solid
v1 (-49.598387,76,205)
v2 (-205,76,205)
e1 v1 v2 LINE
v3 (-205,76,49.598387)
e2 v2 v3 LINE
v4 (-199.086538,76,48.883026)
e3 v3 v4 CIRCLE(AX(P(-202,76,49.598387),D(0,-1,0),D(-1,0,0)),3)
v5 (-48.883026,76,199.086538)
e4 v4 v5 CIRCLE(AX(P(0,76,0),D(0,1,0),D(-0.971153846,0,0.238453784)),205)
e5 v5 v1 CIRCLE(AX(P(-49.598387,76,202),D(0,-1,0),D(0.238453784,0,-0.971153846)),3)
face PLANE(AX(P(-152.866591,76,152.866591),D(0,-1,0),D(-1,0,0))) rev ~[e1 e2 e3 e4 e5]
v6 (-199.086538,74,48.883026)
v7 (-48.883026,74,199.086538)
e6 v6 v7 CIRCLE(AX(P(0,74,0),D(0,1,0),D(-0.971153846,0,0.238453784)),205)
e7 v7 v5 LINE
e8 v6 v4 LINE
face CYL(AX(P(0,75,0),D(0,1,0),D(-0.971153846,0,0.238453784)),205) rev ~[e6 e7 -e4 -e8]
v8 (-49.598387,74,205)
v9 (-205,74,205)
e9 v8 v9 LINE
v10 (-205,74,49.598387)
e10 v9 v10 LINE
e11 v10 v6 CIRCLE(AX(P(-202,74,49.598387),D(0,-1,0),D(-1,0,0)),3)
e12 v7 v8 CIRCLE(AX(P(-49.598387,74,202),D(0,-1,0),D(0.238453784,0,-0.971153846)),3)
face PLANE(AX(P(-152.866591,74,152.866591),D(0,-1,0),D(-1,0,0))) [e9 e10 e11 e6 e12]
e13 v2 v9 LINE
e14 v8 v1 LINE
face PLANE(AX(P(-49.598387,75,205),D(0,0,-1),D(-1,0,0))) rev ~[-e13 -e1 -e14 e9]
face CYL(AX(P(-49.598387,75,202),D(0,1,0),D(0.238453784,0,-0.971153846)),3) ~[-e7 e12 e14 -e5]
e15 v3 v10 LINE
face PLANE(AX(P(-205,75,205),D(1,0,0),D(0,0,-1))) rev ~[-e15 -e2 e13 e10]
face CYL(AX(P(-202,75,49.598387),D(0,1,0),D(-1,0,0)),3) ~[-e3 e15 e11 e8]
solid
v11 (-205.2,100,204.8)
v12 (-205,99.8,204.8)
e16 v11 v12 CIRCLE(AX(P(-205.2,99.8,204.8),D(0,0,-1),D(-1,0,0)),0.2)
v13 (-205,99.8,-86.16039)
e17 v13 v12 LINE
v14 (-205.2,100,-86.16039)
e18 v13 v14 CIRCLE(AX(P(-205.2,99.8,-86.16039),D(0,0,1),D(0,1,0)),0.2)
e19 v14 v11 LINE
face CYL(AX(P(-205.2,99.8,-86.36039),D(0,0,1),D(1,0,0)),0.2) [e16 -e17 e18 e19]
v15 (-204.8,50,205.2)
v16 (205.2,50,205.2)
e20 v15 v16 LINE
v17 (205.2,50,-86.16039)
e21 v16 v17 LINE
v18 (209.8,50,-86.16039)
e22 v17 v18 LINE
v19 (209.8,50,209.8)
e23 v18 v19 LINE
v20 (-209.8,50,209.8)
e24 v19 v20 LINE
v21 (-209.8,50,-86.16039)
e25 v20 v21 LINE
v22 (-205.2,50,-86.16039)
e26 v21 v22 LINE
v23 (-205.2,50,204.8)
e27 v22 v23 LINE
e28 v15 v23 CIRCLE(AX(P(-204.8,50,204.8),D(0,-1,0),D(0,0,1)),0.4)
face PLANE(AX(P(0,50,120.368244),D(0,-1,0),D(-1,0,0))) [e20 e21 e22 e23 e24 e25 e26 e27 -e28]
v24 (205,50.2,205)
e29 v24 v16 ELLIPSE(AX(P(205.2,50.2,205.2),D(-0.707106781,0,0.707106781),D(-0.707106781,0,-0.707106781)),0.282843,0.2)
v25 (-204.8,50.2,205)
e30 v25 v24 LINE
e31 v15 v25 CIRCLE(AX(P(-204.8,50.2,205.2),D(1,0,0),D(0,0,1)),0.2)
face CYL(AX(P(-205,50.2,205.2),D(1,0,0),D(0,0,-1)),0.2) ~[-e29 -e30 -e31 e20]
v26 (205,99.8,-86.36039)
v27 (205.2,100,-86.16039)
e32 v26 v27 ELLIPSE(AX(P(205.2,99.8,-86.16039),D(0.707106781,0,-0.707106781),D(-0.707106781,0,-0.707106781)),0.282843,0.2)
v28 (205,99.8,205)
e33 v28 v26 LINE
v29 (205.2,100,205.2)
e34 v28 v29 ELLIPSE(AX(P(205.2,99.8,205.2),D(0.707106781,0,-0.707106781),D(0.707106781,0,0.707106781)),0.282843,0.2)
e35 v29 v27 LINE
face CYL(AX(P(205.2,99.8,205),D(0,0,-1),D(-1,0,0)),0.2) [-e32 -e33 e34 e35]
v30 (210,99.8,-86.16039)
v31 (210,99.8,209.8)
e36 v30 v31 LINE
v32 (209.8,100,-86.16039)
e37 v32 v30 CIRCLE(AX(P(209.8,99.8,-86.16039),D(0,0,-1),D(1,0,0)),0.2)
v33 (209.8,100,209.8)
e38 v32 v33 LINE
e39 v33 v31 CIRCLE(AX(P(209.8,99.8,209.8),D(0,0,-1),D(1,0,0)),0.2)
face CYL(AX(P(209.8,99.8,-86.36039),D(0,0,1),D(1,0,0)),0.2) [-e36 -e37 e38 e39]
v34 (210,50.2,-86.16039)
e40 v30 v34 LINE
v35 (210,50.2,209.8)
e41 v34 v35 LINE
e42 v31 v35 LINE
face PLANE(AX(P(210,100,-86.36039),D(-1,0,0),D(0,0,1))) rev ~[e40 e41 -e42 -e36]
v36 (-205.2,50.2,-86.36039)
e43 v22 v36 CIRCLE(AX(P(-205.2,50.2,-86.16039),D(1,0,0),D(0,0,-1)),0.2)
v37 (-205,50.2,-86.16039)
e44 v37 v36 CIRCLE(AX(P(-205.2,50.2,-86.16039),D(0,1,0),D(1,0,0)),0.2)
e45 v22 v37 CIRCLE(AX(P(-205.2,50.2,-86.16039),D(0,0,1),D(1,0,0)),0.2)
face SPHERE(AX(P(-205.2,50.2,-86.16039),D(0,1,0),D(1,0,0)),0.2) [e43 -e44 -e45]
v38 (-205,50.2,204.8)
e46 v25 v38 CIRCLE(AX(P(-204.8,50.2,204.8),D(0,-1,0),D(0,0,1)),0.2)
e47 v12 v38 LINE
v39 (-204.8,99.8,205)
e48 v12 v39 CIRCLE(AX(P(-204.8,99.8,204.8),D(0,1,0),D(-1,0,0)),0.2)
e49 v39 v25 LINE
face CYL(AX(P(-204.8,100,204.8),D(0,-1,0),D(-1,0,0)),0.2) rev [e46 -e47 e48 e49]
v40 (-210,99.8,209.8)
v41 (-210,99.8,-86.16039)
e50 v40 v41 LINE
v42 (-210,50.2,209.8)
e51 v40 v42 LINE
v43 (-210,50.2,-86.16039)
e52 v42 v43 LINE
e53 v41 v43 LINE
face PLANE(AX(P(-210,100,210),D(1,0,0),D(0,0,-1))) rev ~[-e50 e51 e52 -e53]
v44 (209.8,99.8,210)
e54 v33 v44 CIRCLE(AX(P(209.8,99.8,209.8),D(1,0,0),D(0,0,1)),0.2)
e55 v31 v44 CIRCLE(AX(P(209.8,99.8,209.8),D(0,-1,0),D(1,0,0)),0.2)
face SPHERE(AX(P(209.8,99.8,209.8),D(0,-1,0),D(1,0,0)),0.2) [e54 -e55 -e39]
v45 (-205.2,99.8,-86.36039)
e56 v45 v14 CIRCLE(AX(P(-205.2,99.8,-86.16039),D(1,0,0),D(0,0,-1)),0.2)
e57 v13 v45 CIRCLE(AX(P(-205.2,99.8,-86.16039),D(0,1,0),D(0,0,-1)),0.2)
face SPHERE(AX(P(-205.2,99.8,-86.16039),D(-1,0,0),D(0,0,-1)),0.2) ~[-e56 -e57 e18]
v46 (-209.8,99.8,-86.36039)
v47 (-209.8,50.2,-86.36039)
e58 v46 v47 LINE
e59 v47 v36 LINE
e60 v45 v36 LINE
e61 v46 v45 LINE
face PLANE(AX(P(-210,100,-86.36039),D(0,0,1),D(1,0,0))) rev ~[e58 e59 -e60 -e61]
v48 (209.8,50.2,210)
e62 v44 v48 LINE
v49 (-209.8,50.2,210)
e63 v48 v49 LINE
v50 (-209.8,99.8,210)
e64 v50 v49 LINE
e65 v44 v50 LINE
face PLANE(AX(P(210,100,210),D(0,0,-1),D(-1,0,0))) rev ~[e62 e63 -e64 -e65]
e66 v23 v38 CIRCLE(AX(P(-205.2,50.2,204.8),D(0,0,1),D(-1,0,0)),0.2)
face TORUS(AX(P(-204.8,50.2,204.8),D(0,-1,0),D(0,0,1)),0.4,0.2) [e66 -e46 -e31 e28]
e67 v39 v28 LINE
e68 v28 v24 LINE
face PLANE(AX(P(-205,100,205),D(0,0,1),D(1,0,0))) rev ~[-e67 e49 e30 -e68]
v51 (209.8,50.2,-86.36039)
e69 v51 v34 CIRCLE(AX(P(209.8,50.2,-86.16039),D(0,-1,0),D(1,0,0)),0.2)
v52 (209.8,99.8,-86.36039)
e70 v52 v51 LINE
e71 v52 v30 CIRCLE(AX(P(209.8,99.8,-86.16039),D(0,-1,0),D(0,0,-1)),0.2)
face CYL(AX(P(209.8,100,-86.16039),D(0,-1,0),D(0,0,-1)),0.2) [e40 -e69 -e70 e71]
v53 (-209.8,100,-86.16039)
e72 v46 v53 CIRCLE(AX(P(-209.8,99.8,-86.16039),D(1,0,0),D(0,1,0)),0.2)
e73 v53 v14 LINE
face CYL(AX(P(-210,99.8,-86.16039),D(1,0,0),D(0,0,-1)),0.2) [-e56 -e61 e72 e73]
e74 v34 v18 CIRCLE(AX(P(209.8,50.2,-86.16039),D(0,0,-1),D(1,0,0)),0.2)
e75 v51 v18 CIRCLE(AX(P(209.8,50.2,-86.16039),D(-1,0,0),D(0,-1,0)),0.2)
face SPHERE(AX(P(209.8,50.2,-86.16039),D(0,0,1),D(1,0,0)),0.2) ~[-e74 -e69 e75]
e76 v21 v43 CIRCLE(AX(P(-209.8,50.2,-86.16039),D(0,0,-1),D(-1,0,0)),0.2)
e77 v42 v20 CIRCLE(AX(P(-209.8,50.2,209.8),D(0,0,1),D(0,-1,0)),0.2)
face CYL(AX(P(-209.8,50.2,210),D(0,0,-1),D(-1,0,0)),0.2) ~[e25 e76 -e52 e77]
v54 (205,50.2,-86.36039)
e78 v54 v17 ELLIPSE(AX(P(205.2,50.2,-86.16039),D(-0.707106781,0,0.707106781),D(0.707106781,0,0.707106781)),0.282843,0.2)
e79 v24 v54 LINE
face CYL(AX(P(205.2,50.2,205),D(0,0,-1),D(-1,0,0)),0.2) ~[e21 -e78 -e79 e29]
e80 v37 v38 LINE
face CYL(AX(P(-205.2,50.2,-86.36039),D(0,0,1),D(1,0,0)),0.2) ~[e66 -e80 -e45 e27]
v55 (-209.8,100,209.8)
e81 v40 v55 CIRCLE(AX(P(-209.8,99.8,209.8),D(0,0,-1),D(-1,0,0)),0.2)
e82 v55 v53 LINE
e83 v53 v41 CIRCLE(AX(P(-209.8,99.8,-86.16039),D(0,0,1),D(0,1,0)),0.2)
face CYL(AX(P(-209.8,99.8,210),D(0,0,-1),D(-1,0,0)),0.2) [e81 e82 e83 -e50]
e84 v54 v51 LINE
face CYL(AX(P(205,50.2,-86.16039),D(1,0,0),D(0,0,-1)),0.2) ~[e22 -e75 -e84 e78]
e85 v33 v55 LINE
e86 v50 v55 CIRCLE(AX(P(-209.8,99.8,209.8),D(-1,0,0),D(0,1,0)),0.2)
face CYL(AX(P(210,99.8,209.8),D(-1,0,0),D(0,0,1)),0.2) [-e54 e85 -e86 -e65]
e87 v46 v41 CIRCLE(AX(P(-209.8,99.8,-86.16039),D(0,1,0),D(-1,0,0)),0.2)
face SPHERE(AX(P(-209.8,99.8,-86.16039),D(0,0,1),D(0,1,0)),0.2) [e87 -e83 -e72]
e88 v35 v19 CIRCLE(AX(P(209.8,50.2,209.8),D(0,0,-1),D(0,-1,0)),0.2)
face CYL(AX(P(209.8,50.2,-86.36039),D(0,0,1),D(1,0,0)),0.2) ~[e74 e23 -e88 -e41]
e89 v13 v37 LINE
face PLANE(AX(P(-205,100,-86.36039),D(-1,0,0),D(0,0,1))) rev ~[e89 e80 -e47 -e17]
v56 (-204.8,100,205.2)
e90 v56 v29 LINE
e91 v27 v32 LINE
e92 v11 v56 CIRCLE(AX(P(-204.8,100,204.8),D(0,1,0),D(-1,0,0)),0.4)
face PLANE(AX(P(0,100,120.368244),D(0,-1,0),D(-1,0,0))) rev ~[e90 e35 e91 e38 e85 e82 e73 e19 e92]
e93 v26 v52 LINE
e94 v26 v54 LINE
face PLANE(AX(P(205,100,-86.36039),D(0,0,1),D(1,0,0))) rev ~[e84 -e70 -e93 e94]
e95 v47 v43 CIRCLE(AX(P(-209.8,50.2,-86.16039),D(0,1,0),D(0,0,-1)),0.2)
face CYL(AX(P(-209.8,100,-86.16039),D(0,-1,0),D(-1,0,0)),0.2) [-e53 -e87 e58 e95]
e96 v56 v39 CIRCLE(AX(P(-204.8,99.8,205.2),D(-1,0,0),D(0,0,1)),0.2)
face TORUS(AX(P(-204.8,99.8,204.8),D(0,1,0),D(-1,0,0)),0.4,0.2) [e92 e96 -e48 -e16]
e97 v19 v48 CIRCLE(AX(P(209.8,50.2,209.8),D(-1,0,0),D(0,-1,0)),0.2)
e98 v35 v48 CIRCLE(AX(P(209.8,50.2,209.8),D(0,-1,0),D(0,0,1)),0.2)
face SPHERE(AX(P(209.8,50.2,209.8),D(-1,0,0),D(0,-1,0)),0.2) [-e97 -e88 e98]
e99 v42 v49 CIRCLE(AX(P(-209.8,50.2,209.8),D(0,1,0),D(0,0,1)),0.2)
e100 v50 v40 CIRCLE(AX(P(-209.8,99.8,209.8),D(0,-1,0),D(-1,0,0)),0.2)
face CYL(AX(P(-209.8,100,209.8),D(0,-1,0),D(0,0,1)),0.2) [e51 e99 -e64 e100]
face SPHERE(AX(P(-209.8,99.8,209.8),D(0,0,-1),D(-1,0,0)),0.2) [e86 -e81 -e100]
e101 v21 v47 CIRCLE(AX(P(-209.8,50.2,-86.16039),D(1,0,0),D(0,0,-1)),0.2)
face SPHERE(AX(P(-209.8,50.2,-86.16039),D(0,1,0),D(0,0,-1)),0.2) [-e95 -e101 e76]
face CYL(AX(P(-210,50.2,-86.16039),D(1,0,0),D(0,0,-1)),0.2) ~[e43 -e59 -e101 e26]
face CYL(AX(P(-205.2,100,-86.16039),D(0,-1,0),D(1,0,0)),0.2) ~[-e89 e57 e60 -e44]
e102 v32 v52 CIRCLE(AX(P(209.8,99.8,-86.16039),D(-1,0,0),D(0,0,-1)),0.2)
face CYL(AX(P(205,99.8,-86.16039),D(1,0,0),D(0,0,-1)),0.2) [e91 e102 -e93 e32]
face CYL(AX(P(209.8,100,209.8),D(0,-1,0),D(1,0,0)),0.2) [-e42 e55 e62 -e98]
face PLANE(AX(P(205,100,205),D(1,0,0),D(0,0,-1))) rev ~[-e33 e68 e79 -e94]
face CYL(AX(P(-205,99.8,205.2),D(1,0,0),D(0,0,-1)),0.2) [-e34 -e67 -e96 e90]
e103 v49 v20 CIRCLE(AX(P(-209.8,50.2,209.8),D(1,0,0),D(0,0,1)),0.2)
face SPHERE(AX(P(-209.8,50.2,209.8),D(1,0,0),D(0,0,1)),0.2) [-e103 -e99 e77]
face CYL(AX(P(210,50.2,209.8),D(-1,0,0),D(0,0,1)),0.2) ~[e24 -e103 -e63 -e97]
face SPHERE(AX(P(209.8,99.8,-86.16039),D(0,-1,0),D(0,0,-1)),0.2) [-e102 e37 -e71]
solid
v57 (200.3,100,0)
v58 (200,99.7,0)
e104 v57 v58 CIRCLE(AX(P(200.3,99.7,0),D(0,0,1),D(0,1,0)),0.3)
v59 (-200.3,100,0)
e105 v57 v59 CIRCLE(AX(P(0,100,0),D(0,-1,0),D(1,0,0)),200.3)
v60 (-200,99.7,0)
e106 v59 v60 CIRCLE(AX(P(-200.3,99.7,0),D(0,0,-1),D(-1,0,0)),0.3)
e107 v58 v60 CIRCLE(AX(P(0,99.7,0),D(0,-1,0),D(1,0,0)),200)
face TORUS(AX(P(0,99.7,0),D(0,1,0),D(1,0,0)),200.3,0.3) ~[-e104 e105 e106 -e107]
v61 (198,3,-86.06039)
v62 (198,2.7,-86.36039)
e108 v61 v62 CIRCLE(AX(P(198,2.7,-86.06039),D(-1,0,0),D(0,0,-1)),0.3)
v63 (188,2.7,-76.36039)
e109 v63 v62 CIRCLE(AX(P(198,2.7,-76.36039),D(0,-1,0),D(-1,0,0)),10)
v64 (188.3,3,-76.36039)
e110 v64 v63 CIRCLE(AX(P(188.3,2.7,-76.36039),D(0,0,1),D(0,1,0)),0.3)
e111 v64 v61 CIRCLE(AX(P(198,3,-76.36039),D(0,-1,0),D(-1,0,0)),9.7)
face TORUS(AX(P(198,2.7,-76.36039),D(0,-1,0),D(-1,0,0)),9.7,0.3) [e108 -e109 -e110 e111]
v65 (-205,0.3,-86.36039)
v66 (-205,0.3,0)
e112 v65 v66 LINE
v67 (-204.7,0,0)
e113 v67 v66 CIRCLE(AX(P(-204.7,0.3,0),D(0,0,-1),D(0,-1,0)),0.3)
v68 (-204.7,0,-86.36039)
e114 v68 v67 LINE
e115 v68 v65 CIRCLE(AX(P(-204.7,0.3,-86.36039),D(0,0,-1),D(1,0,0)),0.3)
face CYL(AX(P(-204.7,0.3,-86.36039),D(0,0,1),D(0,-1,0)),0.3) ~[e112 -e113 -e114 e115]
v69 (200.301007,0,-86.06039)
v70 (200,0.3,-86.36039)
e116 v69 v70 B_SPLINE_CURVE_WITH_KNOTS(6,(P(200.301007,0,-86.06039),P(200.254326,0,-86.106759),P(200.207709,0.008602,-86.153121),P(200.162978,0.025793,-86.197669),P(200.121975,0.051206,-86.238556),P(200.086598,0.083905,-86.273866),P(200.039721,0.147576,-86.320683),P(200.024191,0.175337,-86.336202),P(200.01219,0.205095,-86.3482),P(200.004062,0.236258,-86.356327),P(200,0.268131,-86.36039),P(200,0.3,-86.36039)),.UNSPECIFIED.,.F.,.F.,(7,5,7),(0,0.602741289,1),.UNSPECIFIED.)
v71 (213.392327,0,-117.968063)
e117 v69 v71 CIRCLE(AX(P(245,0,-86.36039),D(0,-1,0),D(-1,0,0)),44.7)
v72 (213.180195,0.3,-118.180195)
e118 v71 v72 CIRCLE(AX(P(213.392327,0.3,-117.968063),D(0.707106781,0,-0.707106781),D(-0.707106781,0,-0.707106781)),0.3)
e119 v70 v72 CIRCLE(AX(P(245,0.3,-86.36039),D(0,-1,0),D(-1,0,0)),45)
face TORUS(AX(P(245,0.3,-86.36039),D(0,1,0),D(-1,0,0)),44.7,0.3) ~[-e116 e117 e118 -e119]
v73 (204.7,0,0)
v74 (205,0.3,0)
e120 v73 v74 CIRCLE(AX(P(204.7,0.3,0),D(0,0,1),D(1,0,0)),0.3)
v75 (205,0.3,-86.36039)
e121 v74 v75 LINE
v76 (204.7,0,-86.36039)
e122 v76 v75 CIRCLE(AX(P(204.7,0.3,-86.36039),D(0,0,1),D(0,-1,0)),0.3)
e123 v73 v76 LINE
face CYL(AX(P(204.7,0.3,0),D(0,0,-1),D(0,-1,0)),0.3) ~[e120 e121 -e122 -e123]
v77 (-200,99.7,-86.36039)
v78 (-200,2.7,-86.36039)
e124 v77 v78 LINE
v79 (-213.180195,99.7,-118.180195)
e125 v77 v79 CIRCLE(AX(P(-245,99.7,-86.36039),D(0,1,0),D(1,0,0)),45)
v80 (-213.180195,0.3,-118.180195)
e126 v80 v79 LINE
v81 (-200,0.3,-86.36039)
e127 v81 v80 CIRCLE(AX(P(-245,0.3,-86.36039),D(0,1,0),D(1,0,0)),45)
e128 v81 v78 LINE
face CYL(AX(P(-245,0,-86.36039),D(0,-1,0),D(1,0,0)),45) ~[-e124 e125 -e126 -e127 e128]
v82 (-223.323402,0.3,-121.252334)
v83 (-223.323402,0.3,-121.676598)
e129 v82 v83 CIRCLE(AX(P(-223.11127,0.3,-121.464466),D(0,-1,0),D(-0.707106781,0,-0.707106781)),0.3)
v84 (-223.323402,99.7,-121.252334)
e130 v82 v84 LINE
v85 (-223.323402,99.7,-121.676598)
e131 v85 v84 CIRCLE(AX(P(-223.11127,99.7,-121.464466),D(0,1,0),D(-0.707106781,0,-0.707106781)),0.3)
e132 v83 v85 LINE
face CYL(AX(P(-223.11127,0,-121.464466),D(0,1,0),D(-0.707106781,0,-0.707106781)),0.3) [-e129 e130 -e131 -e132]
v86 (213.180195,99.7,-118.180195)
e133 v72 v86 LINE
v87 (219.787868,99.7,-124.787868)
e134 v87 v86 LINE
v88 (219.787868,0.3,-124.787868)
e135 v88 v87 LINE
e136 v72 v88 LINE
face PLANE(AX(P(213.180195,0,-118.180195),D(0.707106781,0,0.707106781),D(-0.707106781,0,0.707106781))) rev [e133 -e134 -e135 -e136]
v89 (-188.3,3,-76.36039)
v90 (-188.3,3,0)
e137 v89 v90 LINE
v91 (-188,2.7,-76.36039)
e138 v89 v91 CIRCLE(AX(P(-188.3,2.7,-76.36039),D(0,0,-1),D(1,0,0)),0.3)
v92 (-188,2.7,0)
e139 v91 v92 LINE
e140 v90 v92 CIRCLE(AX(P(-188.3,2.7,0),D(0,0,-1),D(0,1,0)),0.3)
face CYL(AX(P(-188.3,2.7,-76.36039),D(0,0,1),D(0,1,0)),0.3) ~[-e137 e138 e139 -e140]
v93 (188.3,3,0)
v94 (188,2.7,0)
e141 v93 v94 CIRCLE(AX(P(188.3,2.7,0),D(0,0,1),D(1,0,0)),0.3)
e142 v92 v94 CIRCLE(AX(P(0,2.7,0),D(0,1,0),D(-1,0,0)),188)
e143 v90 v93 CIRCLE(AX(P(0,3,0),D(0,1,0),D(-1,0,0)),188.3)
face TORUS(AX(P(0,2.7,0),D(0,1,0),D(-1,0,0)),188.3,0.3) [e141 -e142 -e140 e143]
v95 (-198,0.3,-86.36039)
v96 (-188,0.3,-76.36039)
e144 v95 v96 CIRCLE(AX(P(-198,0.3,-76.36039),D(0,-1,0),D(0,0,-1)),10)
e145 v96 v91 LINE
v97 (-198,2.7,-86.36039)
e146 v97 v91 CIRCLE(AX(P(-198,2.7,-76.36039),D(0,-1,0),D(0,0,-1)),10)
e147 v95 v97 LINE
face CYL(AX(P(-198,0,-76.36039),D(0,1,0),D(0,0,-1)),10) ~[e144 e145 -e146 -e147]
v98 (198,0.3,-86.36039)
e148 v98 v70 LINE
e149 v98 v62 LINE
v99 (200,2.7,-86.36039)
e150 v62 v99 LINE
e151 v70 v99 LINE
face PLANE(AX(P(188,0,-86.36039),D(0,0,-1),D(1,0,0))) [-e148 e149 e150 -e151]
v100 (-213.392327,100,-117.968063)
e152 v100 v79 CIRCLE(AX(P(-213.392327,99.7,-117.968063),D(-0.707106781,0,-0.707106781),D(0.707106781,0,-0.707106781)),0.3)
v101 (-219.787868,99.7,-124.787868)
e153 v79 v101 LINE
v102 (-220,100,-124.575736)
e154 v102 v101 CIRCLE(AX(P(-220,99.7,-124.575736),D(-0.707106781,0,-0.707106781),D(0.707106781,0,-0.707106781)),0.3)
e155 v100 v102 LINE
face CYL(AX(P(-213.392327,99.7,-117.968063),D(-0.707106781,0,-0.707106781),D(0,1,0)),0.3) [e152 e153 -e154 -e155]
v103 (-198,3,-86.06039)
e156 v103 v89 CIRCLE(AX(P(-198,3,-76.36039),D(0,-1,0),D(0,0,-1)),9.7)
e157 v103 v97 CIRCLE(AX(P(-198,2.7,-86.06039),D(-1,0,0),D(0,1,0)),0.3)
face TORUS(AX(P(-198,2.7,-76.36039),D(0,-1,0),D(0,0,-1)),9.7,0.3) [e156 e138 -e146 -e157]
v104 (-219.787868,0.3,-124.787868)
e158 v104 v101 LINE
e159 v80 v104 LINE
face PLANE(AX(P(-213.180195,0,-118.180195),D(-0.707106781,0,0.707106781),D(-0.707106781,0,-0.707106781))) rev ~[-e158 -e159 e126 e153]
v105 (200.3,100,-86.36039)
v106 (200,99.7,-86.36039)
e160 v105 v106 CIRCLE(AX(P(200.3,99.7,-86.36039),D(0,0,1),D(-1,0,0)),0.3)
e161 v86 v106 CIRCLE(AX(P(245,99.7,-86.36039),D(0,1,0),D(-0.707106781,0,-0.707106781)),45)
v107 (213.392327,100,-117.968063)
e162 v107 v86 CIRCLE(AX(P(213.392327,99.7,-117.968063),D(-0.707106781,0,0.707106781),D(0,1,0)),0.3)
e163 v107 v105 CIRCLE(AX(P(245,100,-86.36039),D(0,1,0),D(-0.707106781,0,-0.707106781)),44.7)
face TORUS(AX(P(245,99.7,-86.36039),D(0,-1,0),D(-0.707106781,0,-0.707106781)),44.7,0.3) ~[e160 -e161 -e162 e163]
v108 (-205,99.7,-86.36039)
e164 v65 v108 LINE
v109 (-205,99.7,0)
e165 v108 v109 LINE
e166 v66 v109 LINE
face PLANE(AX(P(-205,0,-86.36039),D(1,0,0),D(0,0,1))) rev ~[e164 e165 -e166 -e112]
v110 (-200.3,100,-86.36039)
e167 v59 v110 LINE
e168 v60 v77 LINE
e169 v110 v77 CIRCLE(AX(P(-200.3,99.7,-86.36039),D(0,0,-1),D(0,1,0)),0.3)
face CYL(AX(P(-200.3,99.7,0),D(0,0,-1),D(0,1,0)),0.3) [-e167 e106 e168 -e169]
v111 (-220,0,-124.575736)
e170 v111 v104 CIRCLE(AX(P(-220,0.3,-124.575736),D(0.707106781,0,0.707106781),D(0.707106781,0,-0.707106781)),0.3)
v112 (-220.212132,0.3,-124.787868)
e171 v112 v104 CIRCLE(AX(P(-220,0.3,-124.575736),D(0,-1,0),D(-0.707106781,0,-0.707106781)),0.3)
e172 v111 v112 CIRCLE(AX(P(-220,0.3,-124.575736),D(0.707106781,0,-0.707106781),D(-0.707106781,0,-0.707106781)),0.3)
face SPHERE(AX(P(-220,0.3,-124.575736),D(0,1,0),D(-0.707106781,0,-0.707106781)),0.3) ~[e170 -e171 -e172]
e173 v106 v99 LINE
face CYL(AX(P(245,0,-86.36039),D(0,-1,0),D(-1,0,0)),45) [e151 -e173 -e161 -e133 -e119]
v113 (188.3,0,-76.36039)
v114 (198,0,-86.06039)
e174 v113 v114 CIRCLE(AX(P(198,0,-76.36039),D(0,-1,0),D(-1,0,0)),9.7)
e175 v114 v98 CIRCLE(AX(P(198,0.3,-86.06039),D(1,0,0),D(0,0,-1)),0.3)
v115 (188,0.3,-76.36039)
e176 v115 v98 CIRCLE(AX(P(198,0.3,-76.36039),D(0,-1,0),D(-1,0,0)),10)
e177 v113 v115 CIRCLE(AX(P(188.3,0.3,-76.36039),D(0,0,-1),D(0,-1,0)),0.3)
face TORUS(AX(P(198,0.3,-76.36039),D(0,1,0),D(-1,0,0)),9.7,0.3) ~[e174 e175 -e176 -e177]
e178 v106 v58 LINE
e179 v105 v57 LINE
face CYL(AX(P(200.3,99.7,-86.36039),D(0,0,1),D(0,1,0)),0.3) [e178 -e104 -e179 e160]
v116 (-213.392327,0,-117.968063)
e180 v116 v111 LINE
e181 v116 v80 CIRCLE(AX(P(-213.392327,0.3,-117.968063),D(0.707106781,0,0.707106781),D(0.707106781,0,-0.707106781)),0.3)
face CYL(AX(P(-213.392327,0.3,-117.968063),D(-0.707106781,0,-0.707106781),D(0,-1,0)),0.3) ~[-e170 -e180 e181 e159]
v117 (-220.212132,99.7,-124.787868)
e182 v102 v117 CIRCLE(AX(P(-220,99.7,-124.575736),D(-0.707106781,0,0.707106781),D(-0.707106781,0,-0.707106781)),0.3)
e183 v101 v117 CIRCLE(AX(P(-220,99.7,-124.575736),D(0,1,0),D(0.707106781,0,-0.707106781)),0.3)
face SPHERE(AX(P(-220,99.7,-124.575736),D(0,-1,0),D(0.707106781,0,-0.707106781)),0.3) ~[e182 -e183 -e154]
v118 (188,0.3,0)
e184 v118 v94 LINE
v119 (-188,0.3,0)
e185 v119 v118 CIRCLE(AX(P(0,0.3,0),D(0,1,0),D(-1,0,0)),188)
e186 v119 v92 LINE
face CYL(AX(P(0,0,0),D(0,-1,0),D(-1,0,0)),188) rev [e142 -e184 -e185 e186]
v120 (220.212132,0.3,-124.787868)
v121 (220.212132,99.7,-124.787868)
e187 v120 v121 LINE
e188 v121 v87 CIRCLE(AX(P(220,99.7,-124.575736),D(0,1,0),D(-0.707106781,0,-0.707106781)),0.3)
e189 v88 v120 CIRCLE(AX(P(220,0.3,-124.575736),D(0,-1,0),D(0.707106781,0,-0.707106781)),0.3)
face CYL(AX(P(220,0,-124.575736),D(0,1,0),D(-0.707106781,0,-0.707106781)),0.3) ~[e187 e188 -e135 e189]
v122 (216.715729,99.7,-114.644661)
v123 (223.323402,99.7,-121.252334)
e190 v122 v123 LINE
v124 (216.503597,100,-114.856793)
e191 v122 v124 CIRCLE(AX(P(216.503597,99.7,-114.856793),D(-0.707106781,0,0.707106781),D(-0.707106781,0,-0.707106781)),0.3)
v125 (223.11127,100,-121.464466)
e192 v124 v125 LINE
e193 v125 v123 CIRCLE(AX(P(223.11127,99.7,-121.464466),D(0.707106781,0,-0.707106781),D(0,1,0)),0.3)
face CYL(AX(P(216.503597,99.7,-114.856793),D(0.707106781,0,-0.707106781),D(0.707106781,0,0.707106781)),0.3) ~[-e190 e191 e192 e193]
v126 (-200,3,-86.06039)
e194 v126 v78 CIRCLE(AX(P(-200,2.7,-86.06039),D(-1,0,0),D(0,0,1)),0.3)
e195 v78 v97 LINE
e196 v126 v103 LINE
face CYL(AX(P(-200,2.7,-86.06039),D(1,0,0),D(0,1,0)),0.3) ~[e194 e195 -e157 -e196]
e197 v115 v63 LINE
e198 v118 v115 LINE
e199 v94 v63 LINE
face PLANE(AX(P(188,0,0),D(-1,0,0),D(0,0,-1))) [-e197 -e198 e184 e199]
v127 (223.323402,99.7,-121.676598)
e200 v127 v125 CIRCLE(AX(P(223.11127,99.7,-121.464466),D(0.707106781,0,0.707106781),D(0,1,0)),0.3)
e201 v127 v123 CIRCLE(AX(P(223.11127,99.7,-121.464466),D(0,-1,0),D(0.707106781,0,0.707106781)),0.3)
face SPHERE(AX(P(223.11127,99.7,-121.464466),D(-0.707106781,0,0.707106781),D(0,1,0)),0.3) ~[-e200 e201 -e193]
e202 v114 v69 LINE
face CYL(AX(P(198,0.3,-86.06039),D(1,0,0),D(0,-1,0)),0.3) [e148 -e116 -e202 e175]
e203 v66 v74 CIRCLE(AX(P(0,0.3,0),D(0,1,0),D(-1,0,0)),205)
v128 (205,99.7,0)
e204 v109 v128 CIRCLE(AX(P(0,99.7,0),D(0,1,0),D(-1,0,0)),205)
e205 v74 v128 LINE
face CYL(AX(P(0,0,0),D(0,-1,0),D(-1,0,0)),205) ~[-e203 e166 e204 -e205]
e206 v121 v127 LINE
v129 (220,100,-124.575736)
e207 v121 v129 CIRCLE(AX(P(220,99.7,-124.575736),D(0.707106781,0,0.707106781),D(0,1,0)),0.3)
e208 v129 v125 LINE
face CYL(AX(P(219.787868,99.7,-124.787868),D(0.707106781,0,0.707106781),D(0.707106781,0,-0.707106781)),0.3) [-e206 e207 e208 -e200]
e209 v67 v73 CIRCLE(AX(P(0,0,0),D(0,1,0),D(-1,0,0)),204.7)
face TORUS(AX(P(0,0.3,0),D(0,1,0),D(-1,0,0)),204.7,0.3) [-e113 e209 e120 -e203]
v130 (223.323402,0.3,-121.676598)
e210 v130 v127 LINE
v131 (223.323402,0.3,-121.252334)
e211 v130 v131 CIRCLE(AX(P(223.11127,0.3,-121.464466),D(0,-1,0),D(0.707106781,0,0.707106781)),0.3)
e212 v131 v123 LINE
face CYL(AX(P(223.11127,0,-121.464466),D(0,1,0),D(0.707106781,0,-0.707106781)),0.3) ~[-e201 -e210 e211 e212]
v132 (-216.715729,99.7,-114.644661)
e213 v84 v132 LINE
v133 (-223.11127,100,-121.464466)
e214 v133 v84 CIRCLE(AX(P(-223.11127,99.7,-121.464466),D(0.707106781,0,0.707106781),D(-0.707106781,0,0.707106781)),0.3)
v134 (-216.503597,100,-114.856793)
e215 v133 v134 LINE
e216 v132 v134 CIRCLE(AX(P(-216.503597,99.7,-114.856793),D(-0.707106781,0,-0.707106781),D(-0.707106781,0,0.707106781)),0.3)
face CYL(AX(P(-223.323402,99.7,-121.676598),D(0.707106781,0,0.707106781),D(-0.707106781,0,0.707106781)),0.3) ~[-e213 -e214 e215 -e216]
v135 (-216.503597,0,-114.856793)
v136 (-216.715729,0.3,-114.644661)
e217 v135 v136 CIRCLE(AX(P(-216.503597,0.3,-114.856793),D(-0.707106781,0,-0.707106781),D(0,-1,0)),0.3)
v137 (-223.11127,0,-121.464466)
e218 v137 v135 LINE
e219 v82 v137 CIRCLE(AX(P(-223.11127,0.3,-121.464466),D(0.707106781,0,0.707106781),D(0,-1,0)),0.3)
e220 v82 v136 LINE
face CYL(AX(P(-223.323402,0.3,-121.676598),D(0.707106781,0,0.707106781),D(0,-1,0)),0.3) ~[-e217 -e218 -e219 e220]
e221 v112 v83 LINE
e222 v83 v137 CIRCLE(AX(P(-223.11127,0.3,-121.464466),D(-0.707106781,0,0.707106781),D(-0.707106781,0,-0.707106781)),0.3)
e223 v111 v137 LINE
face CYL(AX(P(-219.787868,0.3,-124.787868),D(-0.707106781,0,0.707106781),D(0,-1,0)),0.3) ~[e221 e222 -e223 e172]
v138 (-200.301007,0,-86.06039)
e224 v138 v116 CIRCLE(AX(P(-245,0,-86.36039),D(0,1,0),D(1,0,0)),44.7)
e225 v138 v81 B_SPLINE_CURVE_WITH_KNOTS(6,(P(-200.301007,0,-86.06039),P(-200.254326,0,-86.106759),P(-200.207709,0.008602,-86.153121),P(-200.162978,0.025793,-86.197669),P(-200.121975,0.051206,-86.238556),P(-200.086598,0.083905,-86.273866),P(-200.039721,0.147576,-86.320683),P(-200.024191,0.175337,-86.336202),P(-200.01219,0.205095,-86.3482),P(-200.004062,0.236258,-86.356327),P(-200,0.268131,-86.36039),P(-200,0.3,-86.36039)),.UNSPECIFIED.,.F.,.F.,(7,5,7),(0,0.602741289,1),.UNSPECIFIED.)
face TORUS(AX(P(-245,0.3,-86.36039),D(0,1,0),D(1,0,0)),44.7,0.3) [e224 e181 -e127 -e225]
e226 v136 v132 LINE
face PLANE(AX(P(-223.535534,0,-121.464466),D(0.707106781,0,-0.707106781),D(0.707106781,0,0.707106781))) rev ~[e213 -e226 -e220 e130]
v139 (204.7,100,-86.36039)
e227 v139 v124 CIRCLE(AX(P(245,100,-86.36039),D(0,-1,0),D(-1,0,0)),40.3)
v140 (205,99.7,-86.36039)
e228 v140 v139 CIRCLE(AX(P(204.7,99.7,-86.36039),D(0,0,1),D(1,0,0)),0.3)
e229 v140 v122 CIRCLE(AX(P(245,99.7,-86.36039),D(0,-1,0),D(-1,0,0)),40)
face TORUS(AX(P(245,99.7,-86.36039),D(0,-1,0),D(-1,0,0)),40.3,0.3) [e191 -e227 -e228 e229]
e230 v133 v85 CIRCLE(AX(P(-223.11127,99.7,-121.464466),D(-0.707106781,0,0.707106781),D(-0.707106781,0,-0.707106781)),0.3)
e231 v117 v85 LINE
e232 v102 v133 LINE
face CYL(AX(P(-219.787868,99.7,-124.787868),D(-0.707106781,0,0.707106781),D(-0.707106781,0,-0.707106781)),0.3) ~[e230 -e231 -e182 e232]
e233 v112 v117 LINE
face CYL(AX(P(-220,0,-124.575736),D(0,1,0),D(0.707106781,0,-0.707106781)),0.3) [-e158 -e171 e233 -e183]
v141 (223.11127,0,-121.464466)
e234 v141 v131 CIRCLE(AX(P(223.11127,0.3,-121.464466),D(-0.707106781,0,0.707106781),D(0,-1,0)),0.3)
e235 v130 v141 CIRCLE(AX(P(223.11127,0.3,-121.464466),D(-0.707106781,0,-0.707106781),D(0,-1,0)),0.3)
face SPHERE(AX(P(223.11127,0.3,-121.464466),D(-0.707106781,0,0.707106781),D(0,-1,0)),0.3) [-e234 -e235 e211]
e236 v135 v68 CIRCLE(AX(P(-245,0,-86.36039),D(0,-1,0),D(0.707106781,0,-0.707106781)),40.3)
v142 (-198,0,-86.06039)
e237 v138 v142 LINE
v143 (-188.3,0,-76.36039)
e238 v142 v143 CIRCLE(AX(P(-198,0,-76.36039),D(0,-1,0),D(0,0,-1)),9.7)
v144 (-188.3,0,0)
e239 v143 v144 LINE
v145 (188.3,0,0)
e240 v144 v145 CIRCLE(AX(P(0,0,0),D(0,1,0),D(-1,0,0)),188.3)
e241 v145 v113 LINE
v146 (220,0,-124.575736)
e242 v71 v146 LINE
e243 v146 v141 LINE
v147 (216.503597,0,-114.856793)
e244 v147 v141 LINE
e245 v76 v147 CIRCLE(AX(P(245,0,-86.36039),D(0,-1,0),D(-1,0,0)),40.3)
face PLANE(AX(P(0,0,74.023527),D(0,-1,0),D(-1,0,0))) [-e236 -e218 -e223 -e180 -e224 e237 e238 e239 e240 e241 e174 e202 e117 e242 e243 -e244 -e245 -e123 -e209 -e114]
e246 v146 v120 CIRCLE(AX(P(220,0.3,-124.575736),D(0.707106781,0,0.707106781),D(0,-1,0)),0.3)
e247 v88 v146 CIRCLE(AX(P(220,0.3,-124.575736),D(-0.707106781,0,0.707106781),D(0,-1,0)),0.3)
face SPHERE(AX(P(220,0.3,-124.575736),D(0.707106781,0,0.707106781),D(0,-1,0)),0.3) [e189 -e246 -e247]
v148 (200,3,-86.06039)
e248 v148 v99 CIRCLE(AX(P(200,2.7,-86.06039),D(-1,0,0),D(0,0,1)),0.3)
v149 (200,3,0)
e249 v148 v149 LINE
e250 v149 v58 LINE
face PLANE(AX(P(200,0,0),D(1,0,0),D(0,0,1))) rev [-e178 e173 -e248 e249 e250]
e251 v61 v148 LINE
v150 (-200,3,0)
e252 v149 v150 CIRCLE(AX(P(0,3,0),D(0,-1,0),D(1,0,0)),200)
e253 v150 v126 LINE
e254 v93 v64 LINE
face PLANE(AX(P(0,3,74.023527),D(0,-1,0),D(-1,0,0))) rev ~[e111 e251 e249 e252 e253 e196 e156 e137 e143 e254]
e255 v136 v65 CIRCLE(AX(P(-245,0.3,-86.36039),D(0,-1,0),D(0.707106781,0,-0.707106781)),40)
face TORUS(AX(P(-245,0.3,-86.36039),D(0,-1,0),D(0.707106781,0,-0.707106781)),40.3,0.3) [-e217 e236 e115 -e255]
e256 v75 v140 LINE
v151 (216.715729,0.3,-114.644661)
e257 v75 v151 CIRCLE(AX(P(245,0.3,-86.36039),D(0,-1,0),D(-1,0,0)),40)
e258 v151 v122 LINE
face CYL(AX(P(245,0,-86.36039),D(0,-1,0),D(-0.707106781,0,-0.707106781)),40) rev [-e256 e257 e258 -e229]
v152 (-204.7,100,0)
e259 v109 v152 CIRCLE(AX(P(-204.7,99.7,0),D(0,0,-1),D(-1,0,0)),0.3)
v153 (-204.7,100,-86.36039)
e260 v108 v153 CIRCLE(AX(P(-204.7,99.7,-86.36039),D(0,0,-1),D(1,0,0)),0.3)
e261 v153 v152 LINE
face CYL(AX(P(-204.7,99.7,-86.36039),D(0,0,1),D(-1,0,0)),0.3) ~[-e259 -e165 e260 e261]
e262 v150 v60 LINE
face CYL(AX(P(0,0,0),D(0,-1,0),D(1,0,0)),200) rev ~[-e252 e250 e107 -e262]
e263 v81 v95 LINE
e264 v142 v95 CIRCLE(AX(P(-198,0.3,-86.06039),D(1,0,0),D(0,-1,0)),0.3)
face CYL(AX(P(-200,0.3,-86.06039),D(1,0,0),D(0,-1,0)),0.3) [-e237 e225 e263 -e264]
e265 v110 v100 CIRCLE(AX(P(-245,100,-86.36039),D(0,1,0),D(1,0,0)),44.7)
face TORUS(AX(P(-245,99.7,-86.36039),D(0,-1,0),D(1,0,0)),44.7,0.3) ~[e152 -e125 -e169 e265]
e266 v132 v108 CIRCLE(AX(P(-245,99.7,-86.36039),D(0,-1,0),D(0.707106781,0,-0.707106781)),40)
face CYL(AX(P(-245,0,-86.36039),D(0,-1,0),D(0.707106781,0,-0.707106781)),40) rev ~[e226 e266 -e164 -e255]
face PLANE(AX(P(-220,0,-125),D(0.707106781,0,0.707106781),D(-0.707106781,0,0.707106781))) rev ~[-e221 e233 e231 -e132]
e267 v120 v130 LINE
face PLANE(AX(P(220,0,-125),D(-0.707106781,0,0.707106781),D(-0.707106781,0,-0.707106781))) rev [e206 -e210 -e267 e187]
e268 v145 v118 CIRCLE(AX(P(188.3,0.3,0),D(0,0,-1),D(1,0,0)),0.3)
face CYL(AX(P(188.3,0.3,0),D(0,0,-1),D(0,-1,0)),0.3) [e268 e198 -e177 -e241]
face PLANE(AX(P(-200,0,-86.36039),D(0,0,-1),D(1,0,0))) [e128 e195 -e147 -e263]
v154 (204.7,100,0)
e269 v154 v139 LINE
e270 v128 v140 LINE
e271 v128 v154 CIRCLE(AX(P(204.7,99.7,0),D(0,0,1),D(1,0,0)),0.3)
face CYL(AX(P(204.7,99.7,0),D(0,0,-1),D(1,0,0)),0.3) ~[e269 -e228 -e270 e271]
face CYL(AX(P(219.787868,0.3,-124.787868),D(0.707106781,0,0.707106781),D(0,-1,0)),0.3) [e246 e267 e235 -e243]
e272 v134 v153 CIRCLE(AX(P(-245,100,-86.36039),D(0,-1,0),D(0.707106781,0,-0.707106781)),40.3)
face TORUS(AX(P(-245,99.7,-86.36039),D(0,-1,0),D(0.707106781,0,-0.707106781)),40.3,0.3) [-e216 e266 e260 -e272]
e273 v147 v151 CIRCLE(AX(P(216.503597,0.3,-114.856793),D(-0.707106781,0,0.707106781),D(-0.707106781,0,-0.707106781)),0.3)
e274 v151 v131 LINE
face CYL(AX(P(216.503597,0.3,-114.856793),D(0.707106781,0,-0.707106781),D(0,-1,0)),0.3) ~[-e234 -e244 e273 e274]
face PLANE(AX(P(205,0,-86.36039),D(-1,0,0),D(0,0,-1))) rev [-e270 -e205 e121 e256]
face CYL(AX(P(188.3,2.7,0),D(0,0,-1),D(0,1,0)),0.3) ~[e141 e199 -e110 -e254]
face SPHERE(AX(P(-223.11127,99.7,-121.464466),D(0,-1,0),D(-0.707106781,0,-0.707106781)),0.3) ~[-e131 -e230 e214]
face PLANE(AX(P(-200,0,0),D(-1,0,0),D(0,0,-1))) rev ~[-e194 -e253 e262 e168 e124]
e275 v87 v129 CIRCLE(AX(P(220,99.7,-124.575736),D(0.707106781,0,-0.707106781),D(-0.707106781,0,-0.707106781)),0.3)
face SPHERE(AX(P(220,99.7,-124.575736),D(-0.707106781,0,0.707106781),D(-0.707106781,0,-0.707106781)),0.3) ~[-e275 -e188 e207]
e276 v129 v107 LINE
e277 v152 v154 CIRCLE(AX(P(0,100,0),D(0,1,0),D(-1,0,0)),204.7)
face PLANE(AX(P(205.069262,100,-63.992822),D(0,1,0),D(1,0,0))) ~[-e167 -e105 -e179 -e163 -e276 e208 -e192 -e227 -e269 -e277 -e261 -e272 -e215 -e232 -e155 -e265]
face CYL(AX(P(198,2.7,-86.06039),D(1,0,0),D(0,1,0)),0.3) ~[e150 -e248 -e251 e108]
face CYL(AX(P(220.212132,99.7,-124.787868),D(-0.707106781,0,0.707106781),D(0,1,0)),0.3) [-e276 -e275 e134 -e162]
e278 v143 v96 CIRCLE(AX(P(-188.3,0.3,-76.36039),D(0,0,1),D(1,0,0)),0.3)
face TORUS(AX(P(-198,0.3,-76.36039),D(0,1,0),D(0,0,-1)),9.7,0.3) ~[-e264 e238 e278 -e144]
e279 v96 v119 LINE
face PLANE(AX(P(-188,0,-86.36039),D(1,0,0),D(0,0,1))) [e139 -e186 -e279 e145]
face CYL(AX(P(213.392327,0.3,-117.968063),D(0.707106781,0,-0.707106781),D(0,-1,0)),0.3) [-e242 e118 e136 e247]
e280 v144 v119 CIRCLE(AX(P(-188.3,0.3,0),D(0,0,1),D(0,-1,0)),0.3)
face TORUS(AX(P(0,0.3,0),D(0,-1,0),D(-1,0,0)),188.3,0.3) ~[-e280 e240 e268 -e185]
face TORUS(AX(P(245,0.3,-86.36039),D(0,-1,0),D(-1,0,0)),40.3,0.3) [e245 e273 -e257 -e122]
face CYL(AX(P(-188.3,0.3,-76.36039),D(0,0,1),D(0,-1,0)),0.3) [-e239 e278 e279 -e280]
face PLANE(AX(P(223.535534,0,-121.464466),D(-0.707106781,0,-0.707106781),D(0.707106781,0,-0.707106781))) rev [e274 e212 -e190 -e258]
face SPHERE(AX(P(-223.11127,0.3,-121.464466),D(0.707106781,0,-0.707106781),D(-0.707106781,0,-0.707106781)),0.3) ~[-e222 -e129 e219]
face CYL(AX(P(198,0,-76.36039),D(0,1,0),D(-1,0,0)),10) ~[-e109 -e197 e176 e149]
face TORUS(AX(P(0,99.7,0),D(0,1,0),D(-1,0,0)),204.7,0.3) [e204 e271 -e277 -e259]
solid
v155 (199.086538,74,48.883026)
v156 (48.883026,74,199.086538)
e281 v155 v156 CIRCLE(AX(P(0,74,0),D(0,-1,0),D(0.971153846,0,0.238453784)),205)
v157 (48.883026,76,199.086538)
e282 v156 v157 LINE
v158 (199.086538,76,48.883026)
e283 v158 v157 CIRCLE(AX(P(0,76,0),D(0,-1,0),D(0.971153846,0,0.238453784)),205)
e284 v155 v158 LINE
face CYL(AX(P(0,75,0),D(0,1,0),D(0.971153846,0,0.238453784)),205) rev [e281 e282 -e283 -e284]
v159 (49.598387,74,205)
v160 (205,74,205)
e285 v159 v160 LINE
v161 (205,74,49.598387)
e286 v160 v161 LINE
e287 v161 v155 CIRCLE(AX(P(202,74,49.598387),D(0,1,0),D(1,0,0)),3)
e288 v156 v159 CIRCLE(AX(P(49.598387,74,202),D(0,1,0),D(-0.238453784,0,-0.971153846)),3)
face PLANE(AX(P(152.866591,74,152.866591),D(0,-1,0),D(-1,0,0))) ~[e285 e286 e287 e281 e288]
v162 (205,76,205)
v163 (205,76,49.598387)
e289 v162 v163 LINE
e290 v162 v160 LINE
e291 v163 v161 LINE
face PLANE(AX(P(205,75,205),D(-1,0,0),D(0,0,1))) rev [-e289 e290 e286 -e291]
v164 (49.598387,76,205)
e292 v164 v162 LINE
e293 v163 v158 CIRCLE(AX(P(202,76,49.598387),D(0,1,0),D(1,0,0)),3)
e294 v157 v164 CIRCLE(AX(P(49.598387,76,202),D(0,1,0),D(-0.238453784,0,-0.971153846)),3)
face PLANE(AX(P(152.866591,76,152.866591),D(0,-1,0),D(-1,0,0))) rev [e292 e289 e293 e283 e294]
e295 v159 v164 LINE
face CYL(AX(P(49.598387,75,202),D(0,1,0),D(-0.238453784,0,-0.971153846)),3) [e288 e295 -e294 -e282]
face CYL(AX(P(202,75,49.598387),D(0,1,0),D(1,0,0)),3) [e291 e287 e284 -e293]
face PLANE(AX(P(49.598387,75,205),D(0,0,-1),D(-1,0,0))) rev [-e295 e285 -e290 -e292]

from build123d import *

# Parameters (mm, degrees)
BOSS_EXTRUDE1_DEPTH  = 100
BOSS_EXTRUDE2_DEPTH  = 100
BOSS_EXTRUDE3_DEPTH  = 3
FILLET1_R            = 10
BOSS_EXTRUDE4_DEPTH  = 50
BOSS_EXTRUDE10_DEPTH = 1
FILLET2_R            = 0.3
FILLET3_R            = 0.2


with BuildPart() as part:
    # Sketch1 → Boss-Extrude1 (new body)
    with BuildSketch(Plane(origin=(0, 0, 0), x_dir=(1, 0, 0), z_dir=(0, 1, 0))):
        with BuildLine():
            Line((205, 0), (200, 0))
            ThreePointArc((200, 0), (0, -200), (-200, 0))
            Line((-200, 0), (-205, 0))
            ThreePointArc((-205, 0), (0, -205), (205, 0))
        make_face()
    extrude(amount=BOSS_EXTRUDE1_DEPTH)

    # Sketch2 → Boss-Extrude2 (add)
    with BuildSketch(Plane(origin=(0, 0, 0), x_dir=(1, 0, 0), z_dir=(0, 1, 0))):
        with BuildLine():
            Line((-223.535533906, 121.464466094), (-216.715728753, 114.644660941))
            ThreePointArc((-216.715728753, 114.644660941), (-208.0448187, 101.667726988), (-205, 86.360389693))
            Line((-205, 86.360389693), (-205, 0))
            Line((-205, 0), (-200, 0))
            Line((-200, 0), (-200, 86.360389693))
            ThreePointArc((-200, 86.360389693), (-203.425421037, 103.58114415), (-213.180194847, 118.180194847))
            Line((-213.180194847, 118.180194847), (-220, 125))
            Line((-220, 125), (-223.535533906, 121.464466094))
        make_face()
    boss_extrude2 = extrude(amount=BOSS_EXTRUDE2_DEPTH)

    # Mirror1: Boss-Extrude2 across plane
    add(boss_extrude2.mirror(Plane(origin=(0, 0, 0), x_dir=(0, 0, 1), z_dir=(1, 0, 0))))

    # Sketch3 → Boss-Extrude3 (add)
    with BuildSketch(Plane(origin=(0, 0, 0), x_dir=(1, 0, 0), z_dir=(0, 1, 0))):
        with BuildLine():
            Line((-200, 0), (-200, 86.360389693))
            Line((-200, 86.360389693), (-188, 86.360389693))
            Line((-188, 86.360389693), (-188, 0))
            ThreePointArc((-188, 0), (0, -188), (188, 0))
            Line((188, 0), (188, 86.360389693))
            Line((188, 86.360389693), (200, 86.360389693))
            Line((200, 86.360389693), (200, 0))
            ThreePointArc((200, 0), (0, -200), (-200, 0))
        make_face()
    extrude(amount=BOSS_EXTRUDE3_DEPTH)

    # Fillet1
    fillet1_edges = [part.edges().sort_by_distance(p)[0] for p in [
        (-188, 1.5, -86.360389693),
        (188, 1.5, -86.360389693),
    ]]
    fillet(fillet1_edges, radius=FILLET1_R)

    # Fillet2
    fillet2_edges = [part.edges().sort_by_distance(p)[0] for p in [
        (-220, 50, -125),
        (-221.767766953, 0, -123.232233047),
        (-223.535533906, 50, -121.464466094),
        (-220.125631329, 0, -118.054563517),
        (-208.0448187, 0, -101.667726988),
        (-205, 0, -43.180194847),
        (-203.425421037, 0, -103.58114415),
        (0, 100, 200),
        (-216.590097423, 0, -121.590097423),
        (-216.590097423, 100, -121.590097423),
        (-221.767766953, 100, -123.232233047),
        (-220.125631329, 100, -118.054563517),
        (-208.0448187, 100, -101.667726988),
        (-205, 100, -43.180194847),
        (-200, 100, -43.180194847),
        (-203.425421037, 100, -103.58114415),
        (221.767766953, 0, -123.232233047),
        (220.125631329, 0, -118.054563517),
        (208.0448187, 0, -101.667726988),
        (205, 0, -43.180194847),
        (203.425421037, 0, -103.58114415),
        (216.590097423, 0, -121.590097423),
        (220.125631329, 100, -118.054563517),
        (208.0448187, 100, -101.667726988),
        (205, 100, -43.180194847),
        (200, 100, -43.180194847),
        (203.425421037, 100, -103.58114415),
        (216.590097423, 100, -121.590097423),
        (220, 50, -125),
        (221.767766953, 100, -123.232233047),
        (223.535533906, 50, -121.464466094),
        (199, 0, -86.360389693),
        (0, 0, 188),
        (-188, 0, -38.180194847),
        (199, 3, -86.360389693),
        (0, 3, 188),
        (-188, 3, -38.180194847),
        (0, 0, 205),
        (-199, 0, -86.360389693),
        (-199, 3, -86.360389693),
        (188, 0, -38.180194847),
        (190.928932188, 0, -83.431457505),
        (-190.928932188, 0, -83.431457505),
        (188, 3, -38.180194847),
        (190.928932188, 3, -83.431457505),
        (-190.928932188, 3, -83.431457505),
        (0, 100, 205),
    ]]
    fillet(fillet2_edges, radius=FILLET2_R)


with BuildPart() as body_2:
    # Sketch4 → Boss-Extrude4 (new body)
    with BuildSketch(Plane(origin=(0, 100, 0), x_dir=(1, 0, 0), z_dir=(0, 1, 0))):
        Polygon((-205, 86.360389693), (-205, -205), (205, -205), (205, 86.360389693), (210, 86.360389693), (210, -210), (-210, -210), (-210, 86.360389693), align=None)
    extrude(amount=-BOSS_EXTRUDE4_DEPTH)

    # Fillet3
    fillet3_edges = [body_2.edges().sort_by_distance(p)[0] for p in [
        (0, 50, 210),
        (-210, 100, 61.819805153),
        (-207.5, 100, -86.360389693),
        (210, 50, 61.819805153),
        (-205, 75, -86.360389693),
        (-205, 75, 205),
        (210, 75, -86.360389693),
        (210, 75, 210),
        (-210, 75, 210),
        (-210, 75, -86.360389693),
        (207.5, 50, -86.360389693),
        (205, 50, 59.319805153),
        (0, 50, 205),
        (-205, 50, 59.319805153),
        (-207.5, 50, -86.360389693),
        (-210, 50, 61.819805153),
        (-205, 100, 59.319805153),
        (0, 100, 205),
        (205, 100, 59.319805153),
        (207.5, 100, -86.360389693),
        (210, 100, 61.819805153),
        (0, 100, 210),
    ]]
    fillet(fillet3_edges, radius=FILLET3_R)


with BuildPart() as body_3:
    # Sketch6 → Boss-Extrude10 (new, symmetric)
    with BuildSketch(Plane(origin=(0, 75, 0), x_dir=(1, 0, 0), z_dir=(0, 1, 0))):
        with BuildLine():
            Line((-49.598387071, -205), (-205, -205))
            Line((-205, -205), (-205, -49.598387071))
            ThreePointArc((-205, -49.598387071), (-202.360288346, -46.620100263), (-199.086538462, -48.883025719))
            ThreePointArc((-199.086538462, -48.883025719), (-144.956890143, -144.956890143), (-48.883025719, -199.086538462))
            ThreePointArc((-48.883025719, -199.086538462), (-46.620100263, -202.360288346), (-49.598387071, -205))
        make_face()
    extrude(amount=BOSS_EXTRUDE10_DEPTH, both=True)


with BuildPart() as body_4:
    # Mirror3: mirrored copy
    add(body_3.part.mirror(Plane(origin=(0, 0, 0), x_dir=(0, 0, 1), z_dir=(1, 0, 0))))


solid = Compound([part.part, body_2.part, body_3.part, body_4.part])
